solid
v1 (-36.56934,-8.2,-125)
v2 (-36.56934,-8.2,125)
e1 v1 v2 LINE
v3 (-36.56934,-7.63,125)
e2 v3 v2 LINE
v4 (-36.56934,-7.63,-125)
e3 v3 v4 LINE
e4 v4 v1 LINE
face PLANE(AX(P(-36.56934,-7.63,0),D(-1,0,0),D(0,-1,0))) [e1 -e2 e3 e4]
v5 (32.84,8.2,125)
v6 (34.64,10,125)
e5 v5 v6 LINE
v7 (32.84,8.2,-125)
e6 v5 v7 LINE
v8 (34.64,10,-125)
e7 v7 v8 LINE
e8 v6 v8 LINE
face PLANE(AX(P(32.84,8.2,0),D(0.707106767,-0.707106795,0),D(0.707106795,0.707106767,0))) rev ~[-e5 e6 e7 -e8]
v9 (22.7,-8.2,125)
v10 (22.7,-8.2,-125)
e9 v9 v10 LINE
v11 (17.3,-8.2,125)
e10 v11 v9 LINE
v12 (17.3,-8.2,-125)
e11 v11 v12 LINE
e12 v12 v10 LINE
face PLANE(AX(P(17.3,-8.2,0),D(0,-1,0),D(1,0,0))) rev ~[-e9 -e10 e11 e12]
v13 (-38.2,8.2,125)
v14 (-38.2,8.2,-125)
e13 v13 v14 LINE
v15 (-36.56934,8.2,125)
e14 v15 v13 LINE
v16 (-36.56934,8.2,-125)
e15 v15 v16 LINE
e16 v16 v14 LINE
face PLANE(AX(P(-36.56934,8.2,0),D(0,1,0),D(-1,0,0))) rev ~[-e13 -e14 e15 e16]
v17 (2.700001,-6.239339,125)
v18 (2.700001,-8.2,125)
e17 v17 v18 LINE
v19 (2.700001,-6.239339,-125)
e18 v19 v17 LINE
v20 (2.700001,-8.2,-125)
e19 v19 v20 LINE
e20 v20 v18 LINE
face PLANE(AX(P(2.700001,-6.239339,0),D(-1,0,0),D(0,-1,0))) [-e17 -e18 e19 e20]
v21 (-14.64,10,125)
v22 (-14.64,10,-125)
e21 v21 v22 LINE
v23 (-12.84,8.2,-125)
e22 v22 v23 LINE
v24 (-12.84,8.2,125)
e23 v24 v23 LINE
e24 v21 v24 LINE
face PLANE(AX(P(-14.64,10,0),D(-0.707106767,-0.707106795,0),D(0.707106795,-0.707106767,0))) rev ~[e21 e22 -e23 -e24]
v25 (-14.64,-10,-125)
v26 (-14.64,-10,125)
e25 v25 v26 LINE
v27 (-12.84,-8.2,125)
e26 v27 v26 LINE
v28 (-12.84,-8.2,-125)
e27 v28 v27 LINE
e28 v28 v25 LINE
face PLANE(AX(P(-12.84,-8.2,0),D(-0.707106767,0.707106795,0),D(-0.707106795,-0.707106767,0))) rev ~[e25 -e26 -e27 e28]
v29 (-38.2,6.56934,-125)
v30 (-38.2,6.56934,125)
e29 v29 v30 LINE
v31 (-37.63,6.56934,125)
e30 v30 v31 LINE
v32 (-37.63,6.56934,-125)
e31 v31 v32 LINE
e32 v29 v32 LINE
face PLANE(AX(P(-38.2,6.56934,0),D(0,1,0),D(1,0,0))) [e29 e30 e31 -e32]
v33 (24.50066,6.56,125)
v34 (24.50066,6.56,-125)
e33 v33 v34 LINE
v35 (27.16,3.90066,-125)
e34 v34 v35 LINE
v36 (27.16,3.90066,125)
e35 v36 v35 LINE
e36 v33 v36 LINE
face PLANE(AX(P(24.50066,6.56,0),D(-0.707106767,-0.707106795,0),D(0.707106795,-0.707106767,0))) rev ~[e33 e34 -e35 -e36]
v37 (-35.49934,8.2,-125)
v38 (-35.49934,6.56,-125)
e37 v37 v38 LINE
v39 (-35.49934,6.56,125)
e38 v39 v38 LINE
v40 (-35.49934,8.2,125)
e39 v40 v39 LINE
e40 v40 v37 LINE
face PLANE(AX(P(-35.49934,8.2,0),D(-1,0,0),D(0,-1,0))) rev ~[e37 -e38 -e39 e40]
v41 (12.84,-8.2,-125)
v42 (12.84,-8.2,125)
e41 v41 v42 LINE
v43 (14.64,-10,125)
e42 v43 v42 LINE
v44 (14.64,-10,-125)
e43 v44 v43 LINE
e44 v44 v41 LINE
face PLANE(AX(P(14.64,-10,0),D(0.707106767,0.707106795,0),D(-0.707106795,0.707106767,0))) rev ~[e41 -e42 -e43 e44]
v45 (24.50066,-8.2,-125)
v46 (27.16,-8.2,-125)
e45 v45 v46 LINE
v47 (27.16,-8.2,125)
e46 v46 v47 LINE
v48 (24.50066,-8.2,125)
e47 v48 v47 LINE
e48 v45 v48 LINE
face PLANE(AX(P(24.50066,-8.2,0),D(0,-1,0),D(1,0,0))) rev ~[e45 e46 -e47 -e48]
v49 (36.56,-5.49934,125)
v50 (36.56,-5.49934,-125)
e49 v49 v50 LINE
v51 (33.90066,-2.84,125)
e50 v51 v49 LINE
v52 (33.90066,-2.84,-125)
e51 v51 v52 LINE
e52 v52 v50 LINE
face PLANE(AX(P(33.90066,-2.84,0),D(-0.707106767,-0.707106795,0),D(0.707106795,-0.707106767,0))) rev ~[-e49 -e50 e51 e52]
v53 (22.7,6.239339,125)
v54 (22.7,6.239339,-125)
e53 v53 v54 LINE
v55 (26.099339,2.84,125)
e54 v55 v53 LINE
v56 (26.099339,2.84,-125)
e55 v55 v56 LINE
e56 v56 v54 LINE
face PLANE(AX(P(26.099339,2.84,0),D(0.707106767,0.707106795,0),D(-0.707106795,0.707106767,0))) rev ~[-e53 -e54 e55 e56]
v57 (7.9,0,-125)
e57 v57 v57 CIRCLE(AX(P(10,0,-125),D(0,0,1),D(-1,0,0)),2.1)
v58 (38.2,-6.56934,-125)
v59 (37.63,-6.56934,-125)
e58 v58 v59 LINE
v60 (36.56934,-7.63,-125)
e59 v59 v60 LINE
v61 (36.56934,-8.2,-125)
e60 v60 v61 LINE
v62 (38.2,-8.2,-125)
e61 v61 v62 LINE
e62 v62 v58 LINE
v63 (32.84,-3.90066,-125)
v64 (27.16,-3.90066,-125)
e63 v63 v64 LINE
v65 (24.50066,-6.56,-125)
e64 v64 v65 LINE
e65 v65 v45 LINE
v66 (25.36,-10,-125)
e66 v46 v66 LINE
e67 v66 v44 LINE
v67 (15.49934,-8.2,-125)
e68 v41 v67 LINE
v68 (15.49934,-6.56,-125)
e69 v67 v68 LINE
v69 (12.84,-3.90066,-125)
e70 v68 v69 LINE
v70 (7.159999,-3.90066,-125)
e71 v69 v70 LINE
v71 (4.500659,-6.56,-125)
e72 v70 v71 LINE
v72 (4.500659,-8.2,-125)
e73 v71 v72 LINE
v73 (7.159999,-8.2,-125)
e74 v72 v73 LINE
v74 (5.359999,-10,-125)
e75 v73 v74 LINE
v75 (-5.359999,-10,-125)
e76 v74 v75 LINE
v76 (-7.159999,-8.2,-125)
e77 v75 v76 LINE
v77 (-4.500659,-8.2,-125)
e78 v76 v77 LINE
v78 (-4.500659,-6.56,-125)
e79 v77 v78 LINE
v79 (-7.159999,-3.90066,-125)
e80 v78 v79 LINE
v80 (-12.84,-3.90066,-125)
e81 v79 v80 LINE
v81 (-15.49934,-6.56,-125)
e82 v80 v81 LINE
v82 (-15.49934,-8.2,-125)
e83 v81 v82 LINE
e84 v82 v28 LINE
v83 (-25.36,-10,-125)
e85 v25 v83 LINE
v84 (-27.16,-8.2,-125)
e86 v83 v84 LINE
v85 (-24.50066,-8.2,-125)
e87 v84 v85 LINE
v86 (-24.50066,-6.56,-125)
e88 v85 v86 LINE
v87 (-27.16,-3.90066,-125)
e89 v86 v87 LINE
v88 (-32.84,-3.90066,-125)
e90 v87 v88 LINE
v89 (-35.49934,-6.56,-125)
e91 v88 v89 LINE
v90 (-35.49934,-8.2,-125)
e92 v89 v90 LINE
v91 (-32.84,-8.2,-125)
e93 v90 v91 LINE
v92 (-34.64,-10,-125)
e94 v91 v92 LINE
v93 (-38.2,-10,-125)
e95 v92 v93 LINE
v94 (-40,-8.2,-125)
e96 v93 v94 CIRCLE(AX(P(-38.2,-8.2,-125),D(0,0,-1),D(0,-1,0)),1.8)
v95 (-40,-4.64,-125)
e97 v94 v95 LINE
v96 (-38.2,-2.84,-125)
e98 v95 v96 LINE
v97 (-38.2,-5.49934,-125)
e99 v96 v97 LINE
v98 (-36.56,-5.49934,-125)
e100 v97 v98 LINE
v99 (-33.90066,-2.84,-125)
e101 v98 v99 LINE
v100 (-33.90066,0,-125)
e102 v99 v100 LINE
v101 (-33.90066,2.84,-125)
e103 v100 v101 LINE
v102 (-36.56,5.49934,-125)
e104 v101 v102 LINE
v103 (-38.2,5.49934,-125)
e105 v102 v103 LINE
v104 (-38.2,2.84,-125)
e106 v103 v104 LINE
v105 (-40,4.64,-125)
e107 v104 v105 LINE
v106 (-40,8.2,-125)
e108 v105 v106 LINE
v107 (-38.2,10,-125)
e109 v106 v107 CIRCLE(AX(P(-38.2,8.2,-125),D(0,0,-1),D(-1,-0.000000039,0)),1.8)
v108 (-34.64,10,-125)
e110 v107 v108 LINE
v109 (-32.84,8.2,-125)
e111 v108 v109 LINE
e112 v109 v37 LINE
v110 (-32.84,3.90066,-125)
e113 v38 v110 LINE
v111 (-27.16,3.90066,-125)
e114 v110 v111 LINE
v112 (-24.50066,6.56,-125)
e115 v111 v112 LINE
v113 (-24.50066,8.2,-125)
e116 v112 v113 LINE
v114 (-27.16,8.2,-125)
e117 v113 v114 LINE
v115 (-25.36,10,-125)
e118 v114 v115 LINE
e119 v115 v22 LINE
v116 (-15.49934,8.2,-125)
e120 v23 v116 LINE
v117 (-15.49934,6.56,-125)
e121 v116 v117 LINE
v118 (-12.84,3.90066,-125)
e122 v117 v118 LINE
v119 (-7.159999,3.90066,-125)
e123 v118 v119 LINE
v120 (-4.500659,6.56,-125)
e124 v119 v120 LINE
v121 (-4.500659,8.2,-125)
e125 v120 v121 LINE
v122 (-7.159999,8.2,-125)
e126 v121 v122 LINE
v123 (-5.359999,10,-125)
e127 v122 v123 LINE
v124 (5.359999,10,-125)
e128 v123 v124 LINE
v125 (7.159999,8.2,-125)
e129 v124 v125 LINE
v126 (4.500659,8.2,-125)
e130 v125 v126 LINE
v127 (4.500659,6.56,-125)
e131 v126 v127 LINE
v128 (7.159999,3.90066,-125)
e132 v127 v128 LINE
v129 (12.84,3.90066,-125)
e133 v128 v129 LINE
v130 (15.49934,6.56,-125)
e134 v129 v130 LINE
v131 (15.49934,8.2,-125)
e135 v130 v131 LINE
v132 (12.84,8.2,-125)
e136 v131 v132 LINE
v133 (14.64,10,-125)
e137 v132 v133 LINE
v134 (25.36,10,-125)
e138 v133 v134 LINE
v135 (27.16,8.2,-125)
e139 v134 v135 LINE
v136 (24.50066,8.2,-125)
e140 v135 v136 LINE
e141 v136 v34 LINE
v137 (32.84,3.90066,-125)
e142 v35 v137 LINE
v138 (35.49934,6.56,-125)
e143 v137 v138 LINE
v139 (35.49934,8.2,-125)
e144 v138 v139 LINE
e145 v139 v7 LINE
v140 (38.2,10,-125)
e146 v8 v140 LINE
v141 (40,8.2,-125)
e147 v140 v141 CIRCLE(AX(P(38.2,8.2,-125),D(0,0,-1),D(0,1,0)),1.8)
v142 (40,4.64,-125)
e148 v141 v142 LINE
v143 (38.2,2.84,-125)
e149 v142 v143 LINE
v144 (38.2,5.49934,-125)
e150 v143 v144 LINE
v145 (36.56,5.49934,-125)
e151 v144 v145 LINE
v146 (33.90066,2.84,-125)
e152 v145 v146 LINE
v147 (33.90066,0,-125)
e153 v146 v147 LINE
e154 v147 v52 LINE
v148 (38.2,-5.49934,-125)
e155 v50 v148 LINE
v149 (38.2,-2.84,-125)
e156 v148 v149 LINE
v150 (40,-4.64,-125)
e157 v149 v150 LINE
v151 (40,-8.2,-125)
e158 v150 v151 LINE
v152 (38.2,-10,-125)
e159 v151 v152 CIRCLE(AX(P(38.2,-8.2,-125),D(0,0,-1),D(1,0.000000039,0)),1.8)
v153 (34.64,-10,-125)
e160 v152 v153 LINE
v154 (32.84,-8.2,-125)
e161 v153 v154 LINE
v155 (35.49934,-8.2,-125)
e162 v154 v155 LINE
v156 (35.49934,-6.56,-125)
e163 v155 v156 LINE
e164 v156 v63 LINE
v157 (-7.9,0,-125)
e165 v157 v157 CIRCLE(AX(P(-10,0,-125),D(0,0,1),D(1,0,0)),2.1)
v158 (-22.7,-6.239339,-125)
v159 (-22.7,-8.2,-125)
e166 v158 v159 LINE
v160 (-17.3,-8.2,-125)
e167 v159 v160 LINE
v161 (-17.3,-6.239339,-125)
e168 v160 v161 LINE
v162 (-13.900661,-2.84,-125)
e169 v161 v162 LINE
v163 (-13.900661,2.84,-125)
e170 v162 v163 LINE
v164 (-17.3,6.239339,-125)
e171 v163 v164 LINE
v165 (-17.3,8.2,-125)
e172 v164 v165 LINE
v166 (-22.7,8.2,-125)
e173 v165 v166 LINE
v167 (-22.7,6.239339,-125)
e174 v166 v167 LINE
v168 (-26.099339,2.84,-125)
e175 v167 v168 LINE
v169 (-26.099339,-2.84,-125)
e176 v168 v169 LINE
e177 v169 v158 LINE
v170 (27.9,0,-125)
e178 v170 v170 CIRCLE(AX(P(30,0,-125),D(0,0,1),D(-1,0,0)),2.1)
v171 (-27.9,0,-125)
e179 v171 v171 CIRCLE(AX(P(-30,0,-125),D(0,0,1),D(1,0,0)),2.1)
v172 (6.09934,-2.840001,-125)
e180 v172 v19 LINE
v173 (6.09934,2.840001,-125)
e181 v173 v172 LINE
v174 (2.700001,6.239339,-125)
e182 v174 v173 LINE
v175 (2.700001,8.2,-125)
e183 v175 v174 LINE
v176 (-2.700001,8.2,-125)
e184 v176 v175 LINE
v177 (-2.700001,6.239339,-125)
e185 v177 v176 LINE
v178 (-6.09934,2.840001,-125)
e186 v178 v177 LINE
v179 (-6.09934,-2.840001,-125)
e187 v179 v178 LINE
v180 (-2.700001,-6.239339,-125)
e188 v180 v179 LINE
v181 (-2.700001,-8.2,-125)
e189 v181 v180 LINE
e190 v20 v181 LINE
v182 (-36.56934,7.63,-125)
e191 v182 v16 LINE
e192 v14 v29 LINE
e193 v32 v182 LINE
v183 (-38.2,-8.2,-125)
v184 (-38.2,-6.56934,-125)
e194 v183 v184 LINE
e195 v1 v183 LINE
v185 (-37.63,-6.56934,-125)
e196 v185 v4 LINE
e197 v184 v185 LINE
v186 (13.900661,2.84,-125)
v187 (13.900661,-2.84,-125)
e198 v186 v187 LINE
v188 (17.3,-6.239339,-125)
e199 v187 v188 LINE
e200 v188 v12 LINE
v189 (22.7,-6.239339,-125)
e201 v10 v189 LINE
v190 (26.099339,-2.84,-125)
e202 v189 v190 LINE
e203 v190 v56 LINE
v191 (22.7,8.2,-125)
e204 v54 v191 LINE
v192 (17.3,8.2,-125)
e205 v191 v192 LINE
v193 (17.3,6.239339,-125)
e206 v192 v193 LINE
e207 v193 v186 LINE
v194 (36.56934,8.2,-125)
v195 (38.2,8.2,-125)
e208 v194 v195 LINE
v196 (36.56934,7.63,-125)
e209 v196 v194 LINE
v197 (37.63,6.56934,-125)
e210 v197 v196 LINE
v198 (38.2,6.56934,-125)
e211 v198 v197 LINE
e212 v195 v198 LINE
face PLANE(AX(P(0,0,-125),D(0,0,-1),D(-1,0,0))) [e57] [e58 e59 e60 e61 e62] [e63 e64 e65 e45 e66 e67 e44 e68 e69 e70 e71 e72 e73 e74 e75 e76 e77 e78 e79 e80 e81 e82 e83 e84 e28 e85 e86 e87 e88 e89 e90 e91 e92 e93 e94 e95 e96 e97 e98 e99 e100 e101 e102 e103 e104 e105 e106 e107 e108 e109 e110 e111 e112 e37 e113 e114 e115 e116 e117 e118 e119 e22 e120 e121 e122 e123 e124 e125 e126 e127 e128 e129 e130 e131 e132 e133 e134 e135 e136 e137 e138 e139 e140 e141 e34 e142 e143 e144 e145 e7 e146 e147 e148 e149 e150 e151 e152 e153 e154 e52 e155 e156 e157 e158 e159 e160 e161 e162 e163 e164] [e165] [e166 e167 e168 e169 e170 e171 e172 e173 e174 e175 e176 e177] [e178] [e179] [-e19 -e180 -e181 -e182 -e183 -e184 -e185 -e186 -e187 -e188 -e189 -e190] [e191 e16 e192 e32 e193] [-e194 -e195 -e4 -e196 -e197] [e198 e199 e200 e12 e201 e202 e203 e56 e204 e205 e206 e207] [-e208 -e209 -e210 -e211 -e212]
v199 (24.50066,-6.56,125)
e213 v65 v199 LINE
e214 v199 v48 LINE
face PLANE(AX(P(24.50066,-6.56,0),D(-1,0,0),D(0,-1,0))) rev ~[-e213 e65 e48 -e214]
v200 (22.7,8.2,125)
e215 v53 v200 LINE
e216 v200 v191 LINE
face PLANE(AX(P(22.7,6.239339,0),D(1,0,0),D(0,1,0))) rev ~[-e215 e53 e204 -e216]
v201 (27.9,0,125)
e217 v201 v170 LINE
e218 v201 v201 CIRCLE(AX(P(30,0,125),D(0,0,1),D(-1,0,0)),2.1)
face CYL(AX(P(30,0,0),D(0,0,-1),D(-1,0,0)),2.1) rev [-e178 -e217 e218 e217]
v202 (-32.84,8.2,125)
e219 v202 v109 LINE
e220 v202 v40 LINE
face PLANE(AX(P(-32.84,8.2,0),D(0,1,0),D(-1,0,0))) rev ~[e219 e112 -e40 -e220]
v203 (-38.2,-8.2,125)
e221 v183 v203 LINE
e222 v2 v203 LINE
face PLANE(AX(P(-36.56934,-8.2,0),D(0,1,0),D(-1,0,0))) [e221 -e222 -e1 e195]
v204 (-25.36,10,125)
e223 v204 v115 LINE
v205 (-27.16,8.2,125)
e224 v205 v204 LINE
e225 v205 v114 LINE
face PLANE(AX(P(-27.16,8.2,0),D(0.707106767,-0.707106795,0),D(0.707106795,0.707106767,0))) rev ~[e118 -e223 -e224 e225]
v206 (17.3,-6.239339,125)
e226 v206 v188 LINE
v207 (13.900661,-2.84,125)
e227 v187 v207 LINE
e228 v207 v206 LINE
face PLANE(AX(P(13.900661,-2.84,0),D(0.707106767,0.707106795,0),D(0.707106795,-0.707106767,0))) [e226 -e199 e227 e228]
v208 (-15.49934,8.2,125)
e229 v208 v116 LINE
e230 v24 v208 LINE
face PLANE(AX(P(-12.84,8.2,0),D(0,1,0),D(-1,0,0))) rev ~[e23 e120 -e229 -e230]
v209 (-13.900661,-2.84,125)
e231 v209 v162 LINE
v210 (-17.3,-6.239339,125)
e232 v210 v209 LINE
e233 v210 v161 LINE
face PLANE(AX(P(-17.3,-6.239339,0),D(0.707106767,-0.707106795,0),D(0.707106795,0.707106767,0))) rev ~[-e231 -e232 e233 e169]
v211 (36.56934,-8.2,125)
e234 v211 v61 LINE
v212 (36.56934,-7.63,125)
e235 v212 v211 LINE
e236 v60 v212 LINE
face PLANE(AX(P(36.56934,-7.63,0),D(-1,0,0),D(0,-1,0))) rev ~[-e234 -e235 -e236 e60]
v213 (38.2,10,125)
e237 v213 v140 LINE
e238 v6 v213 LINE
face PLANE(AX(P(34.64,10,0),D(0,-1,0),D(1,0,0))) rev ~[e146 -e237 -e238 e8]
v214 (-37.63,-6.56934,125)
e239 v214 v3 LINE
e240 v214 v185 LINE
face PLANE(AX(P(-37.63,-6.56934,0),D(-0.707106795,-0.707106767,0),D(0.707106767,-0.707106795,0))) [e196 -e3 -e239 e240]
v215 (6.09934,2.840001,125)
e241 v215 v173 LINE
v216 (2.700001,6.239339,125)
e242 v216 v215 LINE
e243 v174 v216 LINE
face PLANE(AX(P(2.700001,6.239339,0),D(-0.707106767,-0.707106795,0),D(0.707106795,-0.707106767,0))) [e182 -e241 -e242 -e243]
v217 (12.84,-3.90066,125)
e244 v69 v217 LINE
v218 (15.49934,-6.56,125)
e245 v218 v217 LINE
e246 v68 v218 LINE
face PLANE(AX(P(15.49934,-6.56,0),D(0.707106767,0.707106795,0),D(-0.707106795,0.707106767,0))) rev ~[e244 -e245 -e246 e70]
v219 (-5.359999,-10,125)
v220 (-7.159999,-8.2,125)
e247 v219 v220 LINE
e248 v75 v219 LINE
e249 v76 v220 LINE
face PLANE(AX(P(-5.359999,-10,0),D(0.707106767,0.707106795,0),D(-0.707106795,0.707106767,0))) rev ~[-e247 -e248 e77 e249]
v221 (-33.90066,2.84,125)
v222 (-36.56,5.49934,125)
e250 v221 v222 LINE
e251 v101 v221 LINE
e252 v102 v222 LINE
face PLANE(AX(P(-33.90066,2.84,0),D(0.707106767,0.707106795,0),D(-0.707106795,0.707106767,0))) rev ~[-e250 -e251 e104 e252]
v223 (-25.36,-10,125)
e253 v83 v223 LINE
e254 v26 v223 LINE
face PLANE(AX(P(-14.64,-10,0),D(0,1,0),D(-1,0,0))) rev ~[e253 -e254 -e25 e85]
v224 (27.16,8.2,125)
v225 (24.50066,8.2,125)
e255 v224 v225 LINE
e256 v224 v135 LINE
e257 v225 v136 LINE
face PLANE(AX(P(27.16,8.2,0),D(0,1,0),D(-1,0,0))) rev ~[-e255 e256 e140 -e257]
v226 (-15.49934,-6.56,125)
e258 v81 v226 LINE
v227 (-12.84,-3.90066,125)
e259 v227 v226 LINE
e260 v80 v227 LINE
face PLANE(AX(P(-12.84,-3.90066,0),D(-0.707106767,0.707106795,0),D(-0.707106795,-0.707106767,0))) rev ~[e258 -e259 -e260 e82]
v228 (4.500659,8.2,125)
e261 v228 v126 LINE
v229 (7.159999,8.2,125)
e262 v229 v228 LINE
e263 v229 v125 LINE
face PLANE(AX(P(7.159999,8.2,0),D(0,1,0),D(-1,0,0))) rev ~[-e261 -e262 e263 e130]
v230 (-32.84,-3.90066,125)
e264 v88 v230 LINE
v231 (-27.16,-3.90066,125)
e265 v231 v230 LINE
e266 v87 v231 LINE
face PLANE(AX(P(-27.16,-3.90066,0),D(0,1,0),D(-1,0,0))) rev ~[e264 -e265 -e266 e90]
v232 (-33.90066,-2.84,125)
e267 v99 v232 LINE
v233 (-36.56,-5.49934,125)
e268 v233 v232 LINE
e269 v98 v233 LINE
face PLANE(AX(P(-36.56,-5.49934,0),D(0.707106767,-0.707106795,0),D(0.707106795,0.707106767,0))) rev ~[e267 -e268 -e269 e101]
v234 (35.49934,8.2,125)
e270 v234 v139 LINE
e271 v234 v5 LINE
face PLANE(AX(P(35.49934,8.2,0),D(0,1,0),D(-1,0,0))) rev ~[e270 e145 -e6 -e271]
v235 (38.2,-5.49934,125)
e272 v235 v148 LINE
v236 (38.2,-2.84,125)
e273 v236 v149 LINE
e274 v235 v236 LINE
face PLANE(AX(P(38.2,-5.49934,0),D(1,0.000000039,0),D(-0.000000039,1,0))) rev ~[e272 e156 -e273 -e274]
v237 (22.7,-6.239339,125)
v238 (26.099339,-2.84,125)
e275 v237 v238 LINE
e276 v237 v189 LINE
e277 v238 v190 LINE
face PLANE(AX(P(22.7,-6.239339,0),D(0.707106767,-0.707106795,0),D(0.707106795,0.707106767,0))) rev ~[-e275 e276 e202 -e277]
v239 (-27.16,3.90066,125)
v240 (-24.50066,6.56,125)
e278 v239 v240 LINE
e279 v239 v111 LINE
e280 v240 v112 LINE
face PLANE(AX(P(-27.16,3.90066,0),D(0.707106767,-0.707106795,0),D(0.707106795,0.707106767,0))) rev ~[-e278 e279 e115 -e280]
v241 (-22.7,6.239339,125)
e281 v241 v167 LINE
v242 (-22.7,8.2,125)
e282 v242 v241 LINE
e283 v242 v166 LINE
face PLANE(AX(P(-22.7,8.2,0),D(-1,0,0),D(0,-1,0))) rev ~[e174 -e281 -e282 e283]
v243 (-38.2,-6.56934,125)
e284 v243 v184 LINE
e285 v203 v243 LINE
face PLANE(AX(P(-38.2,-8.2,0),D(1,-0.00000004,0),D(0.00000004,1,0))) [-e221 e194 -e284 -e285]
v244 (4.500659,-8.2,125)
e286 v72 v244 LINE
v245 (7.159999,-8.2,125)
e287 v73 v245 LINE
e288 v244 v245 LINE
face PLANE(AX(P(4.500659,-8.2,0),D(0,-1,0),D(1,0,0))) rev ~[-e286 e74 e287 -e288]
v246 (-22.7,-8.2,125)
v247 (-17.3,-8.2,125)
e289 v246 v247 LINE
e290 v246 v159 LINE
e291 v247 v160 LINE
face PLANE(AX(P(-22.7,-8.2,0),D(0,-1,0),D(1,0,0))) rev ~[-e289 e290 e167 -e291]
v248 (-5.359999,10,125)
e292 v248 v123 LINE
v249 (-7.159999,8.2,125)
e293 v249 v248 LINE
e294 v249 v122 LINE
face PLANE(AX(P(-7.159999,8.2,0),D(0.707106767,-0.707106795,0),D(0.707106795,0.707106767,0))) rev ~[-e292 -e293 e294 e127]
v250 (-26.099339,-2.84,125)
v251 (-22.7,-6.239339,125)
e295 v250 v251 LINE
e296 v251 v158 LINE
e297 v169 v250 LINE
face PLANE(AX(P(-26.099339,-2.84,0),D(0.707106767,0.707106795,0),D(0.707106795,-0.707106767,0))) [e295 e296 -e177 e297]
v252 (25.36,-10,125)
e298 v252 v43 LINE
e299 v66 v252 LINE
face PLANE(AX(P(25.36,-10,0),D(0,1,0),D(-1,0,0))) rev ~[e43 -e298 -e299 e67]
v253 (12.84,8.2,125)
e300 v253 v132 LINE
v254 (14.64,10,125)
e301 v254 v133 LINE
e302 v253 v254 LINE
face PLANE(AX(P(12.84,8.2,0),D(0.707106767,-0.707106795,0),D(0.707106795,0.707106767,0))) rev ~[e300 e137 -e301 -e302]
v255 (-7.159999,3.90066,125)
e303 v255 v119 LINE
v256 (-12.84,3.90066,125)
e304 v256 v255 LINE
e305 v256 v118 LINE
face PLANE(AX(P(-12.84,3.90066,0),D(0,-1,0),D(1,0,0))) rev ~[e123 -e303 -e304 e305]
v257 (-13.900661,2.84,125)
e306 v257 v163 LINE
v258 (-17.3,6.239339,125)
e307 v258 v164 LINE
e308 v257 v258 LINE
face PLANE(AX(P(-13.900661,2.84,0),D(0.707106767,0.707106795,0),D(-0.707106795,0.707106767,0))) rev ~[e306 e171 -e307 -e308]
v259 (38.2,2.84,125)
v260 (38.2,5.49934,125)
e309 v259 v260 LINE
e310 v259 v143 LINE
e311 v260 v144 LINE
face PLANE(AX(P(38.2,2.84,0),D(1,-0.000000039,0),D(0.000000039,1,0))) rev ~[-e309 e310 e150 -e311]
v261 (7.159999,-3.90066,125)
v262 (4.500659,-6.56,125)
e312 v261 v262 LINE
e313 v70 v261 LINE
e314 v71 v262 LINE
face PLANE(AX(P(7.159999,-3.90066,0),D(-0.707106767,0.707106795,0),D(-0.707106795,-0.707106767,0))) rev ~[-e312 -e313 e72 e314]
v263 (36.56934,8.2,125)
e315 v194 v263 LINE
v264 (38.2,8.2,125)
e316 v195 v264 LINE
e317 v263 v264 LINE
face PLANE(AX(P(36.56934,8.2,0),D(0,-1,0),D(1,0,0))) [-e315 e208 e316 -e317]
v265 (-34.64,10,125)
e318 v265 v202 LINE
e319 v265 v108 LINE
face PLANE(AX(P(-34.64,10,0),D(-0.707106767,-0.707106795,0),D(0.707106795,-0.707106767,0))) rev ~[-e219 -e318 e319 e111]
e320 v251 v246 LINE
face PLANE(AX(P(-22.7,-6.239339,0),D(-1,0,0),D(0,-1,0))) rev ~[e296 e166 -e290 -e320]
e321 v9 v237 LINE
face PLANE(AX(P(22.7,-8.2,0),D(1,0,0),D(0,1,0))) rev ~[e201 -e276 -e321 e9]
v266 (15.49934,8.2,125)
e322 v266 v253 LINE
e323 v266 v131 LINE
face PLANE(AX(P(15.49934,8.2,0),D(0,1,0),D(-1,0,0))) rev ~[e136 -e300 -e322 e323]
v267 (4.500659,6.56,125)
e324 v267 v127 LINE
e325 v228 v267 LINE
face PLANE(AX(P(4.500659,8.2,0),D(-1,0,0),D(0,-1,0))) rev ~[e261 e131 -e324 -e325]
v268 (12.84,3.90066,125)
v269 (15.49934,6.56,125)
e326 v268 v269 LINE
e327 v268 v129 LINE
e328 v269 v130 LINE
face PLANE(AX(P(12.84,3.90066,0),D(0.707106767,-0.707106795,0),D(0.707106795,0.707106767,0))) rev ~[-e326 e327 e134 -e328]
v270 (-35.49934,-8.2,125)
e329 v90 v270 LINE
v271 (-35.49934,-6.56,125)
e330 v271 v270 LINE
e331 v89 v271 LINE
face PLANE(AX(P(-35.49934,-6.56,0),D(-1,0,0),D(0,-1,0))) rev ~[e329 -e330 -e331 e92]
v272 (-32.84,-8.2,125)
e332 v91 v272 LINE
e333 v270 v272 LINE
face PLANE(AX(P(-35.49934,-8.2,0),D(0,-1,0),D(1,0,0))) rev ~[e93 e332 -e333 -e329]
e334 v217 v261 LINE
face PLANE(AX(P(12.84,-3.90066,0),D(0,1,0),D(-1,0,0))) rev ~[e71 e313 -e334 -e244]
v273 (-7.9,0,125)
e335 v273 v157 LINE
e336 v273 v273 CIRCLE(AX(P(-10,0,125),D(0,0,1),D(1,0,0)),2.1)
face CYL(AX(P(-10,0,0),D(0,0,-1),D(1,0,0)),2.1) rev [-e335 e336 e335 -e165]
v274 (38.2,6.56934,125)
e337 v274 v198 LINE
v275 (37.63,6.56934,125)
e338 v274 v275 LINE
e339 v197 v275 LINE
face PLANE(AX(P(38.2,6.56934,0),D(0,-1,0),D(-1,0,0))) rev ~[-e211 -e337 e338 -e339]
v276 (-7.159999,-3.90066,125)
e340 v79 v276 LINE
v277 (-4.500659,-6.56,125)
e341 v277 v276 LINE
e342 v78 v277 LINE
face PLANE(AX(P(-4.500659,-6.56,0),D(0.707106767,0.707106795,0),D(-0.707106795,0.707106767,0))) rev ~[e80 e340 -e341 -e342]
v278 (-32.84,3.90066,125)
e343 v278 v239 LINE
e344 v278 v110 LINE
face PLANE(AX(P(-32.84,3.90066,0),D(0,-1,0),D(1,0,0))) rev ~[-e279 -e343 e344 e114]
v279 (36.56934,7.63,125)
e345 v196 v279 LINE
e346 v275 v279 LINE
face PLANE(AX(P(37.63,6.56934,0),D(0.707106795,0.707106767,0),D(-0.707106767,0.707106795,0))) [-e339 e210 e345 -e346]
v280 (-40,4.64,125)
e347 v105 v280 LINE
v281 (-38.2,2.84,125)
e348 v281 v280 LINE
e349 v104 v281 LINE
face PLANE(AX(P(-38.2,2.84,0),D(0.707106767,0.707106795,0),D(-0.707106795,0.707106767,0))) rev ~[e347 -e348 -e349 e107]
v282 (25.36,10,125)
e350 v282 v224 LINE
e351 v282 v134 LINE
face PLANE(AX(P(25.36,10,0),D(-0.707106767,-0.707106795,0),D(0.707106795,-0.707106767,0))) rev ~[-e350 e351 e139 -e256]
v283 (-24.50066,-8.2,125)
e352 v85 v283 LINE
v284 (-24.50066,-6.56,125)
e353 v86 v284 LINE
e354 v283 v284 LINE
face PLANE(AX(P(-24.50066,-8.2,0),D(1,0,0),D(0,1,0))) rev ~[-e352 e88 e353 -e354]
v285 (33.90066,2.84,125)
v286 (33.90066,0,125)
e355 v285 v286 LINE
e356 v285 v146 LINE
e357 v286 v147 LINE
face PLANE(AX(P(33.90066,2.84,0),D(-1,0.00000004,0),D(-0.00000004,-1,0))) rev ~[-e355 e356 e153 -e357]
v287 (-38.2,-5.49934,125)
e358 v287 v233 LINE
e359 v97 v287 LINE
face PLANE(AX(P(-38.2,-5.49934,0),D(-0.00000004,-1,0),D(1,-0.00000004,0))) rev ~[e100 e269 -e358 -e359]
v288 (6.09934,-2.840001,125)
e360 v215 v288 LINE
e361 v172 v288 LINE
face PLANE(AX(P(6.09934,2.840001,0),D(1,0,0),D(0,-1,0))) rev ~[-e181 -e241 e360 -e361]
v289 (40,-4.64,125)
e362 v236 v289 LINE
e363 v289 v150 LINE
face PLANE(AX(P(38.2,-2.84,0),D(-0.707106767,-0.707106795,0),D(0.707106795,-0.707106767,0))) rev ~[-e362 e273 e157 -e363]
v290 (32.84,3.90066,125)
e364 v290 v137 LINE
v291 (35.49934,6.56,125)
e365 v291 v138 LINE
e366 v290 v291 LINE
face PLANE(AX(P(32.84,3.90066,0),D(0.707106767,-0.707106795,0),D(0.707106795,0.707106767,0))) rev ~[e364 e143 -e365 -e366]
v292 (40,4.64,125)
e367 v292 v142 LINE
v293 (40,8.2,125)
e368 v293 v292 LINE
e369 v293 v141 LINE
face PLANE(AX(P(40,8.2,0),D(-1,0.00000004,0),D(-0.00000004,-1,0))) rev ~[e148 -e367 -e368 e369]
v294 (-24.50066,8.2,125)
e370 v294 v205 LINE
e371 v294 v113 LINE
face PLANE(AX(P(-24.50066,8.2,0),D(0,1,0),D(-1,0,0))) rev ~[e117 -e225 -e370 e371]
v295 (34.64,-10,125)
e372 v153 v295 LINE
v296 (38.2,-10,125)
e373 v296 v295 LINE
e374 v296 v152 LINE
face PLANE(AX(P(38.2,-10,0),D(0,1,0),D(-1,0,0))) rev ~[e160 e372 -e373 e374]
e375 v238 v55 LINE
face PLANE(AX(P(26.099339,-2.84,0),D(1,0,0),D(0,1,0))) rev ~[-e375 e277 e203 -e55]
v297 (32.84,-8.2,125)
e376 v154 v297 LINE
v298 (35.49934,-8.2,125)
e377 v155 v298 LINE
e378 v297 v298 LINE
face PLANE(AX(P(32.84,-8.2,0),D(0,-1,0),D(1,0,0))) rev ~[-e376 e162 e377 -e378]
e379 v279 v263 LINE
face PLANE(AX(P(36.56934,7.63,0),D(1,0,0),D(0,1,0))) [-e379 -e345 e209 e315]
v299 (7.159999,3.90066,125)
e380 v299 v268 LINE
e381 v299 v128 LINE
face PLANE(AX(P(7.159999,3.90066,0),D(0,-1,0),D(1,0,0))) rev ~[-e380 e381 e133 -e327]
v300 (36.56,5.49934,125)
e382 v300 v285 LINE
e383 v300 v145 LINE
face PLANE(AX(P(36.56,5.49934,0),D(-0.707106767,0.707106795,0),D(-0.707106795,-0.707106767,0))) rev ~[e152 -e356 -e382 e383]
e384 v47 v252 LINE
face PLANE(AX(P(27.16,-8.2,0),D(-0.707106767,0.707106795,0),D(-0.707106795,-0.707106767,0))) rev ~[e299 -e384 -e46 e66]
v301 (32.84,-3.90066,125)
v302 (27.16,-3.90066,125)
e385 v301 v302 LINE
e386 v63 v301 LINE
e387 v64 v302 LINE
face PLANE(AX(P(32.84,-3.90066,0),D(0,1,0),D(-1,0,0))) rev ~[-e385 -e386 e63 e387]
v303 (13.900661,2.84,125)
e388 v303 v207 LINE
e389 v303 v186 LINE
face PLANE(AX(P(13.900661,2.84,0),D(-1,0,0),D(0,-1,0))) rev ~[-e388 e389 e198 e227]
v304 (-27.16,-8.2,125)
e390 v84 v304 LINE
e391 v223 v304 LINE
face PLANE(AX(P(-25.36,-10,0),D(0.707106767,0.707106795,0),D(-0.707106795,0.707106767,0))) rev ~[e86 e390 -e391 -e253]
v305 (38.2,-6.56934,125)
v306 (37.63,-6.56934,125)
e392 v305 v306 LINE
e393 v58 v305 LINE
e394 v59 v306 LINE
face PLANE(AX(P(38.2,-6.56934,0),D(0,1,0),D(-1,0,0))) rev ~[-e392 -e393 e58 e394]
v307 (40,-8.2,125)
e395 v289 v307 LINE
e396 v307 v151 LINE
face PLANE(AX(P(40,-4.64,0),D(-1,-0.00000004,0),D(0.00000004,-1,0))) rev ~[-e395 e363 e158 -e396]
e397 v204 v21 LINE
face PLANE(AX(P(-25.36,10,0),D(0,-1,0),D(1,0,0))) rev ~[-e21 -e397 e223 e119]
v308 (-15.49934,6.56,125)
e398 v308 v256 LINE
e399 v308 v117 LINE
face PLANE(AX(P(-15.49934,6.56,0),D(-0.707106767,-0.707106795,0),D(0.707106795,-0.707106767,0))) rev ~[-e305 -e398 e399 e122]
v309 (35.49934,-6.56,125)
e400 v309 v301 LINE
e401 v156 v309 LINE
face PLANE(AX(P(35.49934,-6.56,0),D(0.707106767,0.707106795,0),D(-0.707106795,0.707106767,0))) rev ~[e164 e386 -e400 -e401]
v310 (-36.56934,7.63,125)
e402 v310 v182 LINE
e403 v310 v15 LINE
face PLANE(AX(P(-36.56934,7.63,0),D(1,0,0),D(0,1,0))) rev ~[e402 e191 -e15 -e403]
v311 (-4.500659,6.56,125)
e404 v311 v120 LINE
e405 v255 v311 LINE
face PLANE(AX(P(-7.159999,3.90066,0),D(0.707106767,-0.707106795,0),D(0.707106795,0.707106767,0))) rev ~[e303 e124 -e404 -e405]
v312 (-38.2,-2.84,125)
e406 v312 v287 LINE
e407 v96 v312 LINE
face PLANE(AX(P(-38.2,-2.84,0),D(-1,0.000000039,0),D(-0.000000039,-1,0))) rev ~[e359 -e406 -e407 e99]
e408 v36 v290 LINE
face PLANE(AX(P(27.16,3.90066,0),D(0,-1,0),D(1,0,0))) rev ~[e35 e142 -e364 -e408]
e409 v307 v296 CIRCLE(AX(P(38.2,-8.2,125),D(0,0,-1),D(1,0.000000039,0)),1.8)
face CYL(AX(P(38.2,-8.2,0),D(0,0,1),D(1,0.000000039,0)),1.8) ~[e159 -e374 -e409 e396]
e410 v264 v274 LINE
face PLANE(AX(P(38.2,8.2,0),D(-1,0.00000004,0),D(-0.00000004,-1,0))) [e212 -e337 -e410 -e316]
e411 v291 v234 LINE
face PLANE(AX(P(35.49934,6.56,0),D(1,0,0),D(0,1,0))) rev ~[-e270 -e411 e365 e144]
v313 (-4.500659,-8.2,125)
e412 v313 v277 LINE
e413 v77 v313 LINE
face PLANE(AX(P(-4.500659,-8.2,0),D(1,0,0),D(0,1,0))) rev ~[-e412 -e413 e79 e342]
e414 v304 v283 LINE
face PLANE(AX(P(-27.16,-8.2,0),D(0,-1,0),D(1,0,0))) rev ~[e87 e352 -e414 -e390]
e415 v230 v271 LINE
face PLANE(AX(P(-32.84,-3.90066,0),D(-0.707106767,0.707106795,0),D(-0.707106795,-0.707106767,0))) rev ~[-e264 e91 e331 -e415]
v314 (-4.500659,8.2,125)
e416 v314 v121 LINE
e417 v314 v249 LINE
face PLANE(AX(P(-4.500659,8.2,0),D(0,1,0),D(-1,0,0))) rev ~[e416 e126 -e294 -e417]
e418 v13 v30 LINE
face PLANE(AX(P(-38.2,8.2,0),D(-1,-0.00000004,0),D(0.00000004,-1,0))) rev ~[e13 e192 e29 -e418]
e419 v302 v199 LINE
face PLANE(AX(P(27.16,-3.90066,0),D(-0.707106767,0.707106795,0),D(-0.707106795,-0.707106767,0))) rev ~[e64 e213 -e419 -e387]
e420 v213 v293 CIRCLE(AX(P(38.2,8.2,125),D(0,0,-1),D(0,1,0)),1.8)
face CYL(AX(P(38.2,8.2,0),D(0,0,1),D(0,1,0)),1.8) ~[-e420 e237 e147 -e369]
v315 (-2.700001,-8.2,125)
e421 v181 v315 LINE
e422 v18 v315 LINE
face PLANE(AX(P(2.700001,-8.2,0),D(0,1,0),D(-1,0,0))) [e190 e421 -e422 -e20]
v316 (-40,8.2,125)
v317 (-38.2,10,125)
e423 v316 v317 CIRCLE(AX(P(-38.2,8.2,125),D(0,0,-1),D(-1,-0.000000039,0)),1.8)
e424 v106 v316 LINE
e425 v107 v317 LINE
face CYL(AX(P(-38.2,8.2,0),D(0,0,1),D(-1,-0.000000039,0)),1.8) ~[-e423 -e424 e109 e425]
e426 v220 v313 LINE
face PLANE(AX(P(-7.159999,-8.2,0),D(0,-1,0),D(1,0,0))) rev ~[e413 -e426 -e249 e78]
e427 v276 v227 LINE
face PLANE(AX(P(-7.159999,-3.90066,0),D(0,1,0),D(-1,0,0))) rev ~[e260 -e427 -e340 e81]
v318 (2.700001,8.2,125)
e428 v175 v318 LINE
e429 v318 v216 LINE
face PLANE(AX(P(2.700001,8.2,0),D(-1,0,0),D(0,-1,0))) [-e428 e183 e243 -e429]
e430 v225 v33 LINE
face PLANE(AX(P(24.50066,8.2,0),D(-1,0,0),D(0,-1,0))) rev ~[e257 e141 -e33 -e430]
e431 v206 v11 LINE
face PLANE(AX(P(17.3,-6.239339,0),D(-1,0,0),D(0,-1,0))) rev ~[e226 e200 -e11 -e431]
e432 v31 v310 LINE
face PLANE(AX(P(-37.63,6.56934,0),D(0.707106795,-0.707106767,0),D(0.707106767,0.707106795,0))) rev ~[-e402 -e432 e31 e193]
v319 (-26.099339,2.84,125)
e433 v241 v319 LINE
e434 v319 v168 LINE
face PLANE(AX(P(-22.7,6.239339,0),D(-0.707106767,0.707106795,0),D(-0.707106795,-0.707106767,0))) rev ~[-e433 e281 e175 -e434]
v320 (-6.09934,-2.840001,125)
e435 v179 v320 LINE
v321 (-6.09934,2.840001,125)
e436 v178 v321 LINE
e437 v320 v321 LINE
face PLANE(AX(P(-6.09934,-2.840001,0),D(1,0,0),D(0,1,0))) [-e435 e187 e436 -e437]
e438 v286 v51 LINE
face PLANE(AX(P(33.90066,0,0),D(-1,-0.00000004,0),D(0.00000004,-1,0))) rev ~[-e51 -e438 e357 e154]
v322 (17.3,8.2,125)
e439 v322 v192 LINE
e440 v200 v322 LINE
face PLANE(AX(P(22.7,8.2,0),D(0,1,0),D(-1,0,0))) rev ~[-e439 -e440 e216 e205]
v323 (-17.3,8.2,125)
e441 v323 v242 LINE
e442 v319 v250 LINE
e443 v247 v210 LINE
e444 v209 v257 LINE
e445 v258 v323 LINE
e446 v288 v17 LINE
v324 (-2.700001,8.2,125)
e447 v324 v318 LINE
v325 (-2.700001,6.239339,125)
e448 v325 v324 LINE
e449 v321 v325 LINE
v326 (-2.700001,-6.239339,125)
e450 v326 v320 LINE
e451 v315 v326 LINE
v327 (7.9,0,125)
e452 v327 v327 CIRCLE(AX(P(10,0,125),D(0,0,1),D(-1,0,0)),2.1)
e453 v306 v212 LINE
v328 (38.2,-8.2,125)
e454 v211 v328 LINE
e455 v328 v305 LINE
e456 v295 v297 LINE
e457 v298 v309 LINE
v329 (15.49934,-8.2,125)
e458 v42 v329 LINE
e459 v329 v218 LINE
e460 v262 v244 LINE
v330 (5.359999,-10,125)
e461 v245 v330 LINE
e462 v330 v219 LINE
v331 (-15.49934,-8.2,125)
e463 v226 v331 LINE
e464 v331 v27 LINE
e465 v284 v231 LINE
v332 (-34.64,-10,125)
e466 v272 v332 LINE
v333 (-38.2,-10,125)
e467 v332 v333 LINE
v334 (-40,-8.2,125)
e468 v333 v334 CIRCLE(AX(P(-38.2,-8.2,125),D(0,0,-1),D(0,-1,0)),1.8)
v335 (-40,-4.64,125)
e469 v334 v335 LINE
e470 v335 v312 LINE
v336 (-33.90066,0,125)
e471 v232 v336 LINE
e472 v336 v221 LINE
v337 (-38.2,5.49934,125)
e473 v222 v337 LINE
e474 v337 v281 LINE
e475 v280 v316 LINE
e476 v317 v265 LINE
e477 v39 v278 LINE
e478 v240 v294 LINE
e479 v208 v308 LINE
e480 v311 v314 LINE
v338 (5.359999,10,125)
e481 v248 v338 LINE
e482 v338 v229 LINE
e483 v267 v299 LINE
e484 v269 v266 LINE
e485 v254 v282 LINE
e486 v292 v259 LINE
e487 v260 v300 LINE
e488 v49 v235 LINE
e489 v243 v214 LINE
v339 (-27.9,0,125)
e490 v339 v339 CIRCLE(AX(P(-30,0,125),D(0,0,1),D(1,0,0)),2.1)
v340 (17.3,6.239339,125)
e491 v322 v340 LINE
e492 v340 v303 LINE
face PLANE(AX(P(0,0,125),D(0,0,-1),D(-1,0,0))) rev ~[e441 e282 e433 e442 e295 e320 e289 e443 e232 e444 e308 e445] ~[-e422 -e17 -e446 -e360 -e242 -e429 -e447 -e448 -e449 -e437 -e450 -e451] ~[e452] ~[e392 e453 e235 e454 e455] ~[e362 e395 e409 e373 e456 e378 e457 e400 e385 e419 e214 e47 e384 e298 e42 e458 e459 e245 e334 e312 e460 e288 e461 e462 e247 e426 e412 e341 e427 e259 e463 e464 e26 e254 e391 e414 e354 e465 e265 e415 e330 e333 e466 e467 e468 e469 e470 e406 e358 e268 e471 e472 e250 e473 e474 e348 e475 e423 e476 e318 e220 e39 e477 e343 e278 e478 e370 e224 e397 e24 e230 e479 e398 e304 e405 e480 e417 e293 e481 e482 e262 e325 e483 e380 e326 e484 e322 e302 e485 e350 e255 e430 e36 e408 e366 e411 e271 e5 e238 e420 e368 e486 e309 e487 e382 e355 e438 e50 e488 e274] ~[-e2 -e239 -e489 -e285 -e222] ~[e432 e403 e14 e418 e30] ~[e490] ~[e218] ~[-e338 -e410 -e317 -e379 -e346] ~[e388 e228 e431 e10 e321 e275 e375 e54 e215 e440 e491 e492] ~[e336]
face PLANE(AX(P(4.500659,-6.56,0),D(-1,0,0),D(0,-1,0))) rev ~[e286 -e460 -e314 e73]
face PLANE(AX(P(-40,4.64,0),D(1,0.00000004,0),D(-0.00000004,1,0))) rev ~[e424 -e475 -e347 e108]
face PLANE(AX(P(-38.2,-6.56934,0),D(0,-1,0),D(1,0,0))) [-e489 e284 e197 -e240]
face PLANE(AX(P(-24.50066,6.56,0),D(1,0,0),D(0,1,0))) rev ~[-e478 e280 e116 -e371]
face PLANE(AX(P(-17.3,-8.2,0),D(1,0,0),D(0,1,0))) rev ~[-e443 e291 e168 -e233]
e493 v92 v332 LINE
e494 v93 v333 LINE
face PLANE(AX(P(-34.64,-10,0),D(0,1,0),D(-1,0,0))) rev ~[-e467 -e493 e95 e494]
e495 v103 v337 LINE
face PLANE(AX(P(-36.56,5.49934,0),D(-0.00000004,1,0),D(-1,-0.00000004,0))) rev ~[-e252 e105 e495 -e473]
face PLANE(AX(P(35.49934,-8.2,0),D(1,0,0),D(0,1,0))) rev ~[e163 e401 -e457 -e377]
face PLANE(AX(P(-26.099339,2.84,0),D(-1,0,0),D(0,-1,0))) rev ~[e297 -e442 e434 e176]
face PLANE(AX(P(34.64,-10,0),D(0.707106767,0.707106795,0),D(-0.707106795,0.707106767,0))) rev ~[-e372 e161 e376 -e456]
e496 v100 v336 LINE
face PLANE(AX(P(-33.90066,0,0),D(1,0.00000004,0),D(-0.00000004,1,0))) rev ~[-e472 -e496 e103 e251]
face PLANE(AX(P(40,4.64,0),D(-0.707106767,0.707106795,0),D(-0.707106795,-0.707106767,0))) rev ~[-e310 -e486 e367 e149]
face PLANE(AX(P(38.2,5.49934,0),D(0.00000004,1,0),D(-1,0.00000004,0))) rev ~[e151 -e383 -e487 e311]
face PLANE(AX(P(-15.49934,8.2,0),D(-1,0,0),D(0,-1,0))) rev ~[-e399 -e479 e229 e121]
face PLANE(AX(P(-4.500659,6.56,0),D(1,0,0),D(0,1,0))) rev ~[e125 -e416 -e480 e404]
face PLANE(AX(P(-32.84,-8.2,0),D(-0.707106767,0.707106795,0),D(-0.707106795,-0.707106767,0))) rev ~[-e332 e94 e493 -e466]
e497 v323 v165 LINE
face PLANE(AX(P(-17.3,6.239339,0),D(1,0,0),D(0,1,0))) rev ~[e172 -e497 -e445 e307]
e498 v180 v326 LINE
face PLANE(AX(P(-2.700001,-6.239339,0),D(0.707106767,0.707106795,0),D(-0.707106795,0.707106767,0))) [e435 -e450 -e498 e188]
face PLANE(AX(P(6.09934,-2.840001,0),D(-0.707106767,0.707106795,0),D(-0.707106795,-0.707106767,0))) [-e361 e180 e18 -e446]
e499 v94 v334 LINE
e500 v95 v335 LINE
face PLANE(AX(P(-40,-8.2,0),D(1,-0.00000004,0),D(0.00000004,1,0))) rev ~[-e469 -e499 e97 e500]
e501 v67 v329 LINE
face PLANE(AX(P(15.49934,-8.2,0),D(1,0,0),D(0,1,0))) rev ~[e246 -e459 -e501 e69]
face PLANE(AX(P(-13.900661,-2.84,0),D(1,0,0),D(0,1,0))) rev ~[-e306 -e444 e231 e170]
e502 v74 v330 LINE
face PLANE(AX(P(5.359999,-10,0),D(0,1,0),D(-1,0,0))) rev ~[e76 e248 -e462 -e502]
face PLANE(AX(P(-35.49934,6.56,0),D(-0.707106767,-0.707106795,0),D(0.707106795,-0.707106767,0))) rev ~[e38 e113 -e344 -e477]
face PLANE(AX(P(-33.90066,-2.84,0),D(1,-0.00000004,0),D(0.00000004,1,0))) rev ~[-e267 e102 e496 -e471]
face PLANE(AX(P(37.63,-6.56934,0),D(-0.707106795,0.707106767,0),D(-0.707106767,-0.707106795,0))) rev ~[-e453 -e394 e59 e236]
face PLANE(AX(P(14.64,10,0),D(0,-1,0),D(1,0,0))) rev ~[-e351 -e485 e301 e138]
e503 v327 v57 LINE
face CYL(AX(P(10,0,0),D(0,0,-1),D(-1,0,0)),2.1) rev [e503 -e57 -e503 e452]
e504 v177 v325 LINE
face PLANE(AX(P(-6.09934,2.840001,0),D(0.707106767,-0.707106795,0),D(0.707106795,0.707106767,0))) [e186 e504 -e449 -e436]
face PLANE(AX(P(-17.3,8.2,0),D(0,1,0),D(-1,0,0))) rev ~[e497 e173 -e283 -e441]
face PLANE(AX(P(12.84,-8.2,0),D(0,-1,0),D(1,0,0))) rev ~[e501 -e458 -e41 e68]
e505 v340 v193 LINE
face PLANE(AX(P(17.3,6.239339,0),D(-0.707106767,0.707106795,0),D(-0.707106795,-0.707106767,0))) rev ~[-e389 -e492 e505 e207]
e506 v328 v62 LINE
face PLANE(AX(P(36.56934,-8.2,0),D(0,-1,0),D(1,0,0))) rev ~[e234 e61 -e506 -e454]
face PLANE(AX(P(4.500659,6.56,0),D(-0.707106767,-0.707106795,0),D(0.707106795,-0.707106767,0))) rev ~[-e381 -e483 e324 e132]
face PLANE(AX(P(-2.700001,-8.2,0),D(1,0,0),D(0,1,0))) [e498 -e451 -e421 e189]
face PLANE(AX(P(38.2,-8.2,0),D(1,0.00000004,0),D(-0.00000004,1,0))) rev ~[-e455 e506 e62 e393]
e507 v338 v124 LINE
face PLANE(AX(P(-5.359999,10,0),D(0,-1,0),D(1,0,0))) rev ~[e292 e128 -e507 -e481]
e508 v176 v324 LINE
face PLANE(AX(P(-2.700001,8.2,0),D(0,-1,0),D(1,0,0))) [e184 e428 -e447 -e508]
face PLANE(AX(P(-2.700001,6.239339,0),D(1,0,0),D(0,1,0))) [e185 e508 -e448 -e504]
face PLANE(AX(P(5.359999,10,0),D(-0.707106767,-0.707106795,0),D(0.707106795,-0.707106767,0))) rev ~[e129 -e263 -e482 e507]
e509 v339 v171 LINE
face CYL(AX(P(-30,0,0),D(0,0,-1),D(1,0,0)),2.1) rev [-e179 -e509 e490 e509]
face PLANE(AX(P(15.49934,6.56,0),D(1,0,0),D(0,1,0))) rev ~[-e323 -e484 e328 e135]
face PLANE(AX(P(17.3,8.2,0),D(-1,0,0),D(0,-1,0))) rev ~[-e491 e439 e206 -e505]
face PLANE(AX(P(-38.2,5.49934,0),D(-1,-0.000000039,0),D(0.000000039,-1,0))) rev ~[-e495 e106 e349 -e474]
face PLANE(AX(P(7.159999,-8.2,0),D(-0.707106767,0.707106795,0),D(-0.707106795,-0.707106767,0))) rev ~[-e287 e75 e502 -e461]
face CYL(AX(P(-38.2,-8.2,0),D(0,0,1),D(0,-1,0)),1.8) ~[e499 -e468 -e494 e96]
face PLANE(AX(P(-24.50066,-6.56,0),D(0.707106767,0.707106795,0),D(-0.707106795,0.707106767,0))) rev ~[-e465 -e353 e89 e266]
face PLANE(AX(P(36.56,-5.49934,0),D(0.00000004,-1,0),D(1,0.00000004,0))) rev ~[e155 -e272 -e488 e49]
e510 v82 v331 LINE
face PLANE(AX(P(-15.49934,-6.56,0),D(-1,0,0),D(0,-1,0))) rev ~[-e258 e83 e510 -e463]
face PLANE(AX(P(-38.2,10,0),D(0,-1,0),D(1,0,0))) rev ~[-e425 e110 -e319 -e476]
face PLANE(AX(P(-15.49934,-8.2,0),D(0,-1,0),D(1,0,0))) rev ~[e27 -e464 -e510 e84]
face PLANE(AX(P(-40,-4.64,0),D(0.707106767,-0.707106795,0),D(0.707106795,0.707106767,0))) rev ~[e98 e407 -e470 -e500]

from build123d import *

# Parameters (mm, degrees)
ESQUISSE1_R        = 2.1
BOSS_EXTRU_1_DEPTH = 125


with BuildPart() as part:
    # Esquisse1 → Boss.-Extru.1 (new, symmetric)
    with BuildSketch(Plane.XY):
        with BuildLine():
            Line((-38.199999929, 10), (-34.639999675, 10))
            Line((-34.639999675, 10), (-32.839999603, 8.2))
            Line((-32.839999603, 8.2), (-35.499339671, 8.2))
            Line((-35.499339671, 8.2), (-35.499339671, 6.56))
            Line((-35.499339671, 6.56), (-32.839999603, 3.900660038))
            Line((-32.839999603, 3.900660038), (-27.159999603, 3.900660038))
            Line((-27.159999603, 3.900660038), (-24.500659536, 6.56))
            Line((-24.500659536, 6.56), (-24.500659536, 8.2))
            Line((-24.500659536, 8.2), (-27.159999603, 8.2))
            Line((-27.159999603, 8.2), (-25.359999532, 10))
            Line((-25.359999532, 10), (-14.640000468, 10))
            Line((-14.640000468, 10), (-12.840000397, 8.2))
            Line((-12.840000397, 8.2), (-15.499340464, 8.2))
            Line((-15.499340464, 8.2), (-15.499340464, 6.56))
            Line((-15.499340464, 6.56), (-12.840000397, 3.900660038))
            Line((-12.840000397, 3.900660038), (-7.159998809, 3.900660038))
            Line((-7.159998809, 3.900660038), (-4.500658742, 6.56))
            Line((-4.500658742, 6.56), (-4.500658742, 8.2))
            Line((-4.500658742, 8.2), (-7.159998809, 8.2))
            Line((-7.159998809, 8.2), (-5.359998738, 10))
            Line((-5.359998738, 10), (5.359998738, 10))
            Line((5.359998738, 10), (7.159998809, 8.2))
            Line((7.159998809, 8.2), (4.500658742, 8.2))
            Line((4.500658742, 8.2), (4.500658742, 6.56))
            Line((4.500658742, 6.56), (7.159998809, 3.900660038))
            Line((7.159998809, 3.900660038), (12.840000397, 3.900660038))
            Line((12.840000397, 3.900660038), (15.499340464, 6.56))
            Line((15.499340464, 6.56), (15.499340464, 8.2))
            Line((15.499340464, 8.2), (12.840000397, 8.2))
            Line((12.840000397, 8.2), (14.640000468, 10))
            Line((14.640000468, 10), (25.359999532, 10))
            Line((25.359999532, 10), (27.159999603, 8.2))
            Line((27.159999603, 8.2), (24.500659536, 8.2))
            Line((24.500659536, 8.2), (24.500659536, 6.56))
            Line((24.500659536, 6.56), (27.159999603, 3.900660038))
            Line((27.159999603, 3.900660038), (32.839999603, 3.900660038))
            Line((32.839999603, 3.900660038), (35.499339671, 6.56))
            Line((35.499339671, 6.56), (35.499339671, 8.2))
            Line((35.499339671, 8.2), (32.839999603, 8.2))
            Line((32.839999603, 8.2), (34.639999675, 10))
            Line((34.639999675, 10), (38.199999929, 10))
            ThreePointArc((38.199999929, 10), (39.47279216, 9.472792181), (39.999999929, 8.199999929))
            Line((39.999999929, 8.199999929), (39.999999787, 4.639999675))
            Line((39.999999787, 4.639999675), (38.199999716, 2.839999675))
            Line((38.199999716, 2.839999675), (38.199999821, 5.499339742))
            Line((38.199999821, 5.499339742), (36.559999821, 5.499339807))
            Line((36.559999821, 5.499339807), (33.900659754, 2.839999845))
            Line((33.900659754, 2.839999845), (33.900659641, 0))
            Line((33.900659641, 0), (33.900659754, -2.839999845))
            Line((33.900659754, -2.839999845), (36.559999821, -5.499339807))
            Line((36.559999821, -5.499339807), (38.199999821, -5.499339742))
            Line((38.199999821, -5.499339742), (38.199999716, -2.839999675))
            Line((38.199999716, -2.839999675), (39.999999787, -4.639999675))
            Line((39.999999787, -4.639999675), (39.999999929, -8.199999929))
            ThreePointArc((39.999999929, -8.199999929), (39.47279216, -9.472792181), (38.199999929, -10))
            Line((38.199999929, -10), (34.639999675, -10))
            Line((34.639999675, -10), (32.839999603, -8.2))
            Line((32.839999603, -8.2), (35.499339671, -8.2))
            Line((35.499339671, -8.2), (35.499339671, -6.56))
            Line((35.499339671, -6.56), (32.839999603, -3.900660038))
            Line((32.839999603, -3.900660038), (27.159999603, -3.900660038))
            Line((27.159999603, -3.900660038), (24.500659536, -6.56))
            Line((24.500659536, -6.56), (24.500659536, -8.2))
            Line((24.500659536, -8.2), (27.159999603, -8.2))
            Line((27.159999603, -8.2), (25.359999532, -10))
            Line((25.359999532, -10), (14.640000468, -10))
            Line((14.640000468, -10), (12.840000397, -8.2))
            Line((12.840000397, -8.2), (15.499340464, -8.2))
            Line((15.499340464, -8.2), (15.499340464, -6.56))
            Line((15.499340464, -6.56), (12.840000397, -3.900660038))
            Line((12.840000397, -3.900660038), (7.159998809, -3.900660038))
            Line((7.159998809, -3.900660038), (4.500658742, -6.56))
            Line((4.500658742, -6.56), (4.500658742, -8.2))
            Line((4.500658742, -8.2), (7.159998809, -8.2))
            Line((7.159998809, -8.2), (5.359998738, -10))
            Line((5.359998738, -10), (-5.359998738, -10))
            Line((-5.359998738, -10), (-7.159998809, -8.2))
            Line((-7.159998809, -8.2), (-4.500658742, -8.2))
            Line((-4.500658742, -8.2), (-4.500658742, -6.56))
            Line((-4.500658742, -6.56), (-7.159998809, -3.900660038))
            Line((-7.159998809, -3.900660038), (-12.840000397, -3.900660038))
            Line((-12.840000397, -3.900660038), (-15.499340464, -6.56))
            Line((-15.499340464, -6.56), (-15.499340464, -8.2))
            Line((-15.499340464, -8.2), (-12.840000397, -8.2))
            Line((-12.840000397, -8.2), (-14.640000468, -10))
            Line((-14.640000468, -10), (-25.359999532, -10))
            Line((-25.359999532, -10), (-27.159999603, -8.2))
            Line((-27.159999603, -8.2), (-24.500659536, -8.2))
            Line((-24.500659536, -8.2), (-24.500659536, -6.56))
            Line((-24.500659536, -6.56), (-27.159999603, -3.900660038))
            Line((-27.159999603, -3.900660038), (-32.839999603, -3.900660038))
            Line((-32.839999603, -3.900660038), (-35.499339671, -6.56))
            Line((-35.499339671, -6.56), (-35.499339671, -8.2))
            Line((-35.499339671, -8.2), (-32.839999603, -8.2))
            Line((-32.839999603, -8.2), (-34.639999675, -10))
            Line((-34.639999675, -10), (-38.199999929, -10))
            ThreePointArc((-38.199999929, -10), (-39.47279216, -9.472792181), (-39.999999929, -8.199999929))
            Line((-39.999999929, -8.199999929), (-39.999999787, -4.639999675))
            Line((-39.999999787, -4.639999675), (-38.199999716, -2.839999675))
            Line((-38.199999716, -2.839999675), (-38.199999821, -5.499339742))
            Line((-38.199999821, -5.499339742), (-36.559999821, -5.499339807))
            Line((-36.559999821, -5.499339807), (-33.900659754, -2.839999845))
            Line((-33.900659754, -2.839999845), (-33.900659641, 0))
            Line((-33.900659641, 0), (-33.900659754, 2.839999845))
            Line((-33.900659754, 2.839999845), (-36.559999821, 5.499339807))
            Line((-36.559999821, 5.499339807), (-38.199999821, 5.499339742))
            Line((-38.199999821, 5.499339742), (-38.199999716, 2.839999675))
            Line((-38.199999716, 2.839999675), (-39.999999787, 4.639999675))
            Line((-39.999999787, 4.639999675), (-39.999999929, 8.199999929))
            ThreePointArc((-39.999999929, 8.199999929), (-39.47279216, 9.472792181), (-38.199999929, 10))
        make_face()
        with Locations((-29.999999603, 0)):
            Circle(ESQUISSE1_R, mode=Mode.SUBTRACT)
        with Locations((-9.999999603, 0)):
            Circle(ESQUISSE1_R, mode=Mode.SUBTRACT)
        with Locations(Location((29.999999603, 0, 0), (0, 0, 180))):
            Circle(ESQUISSE1_R, mode=Mode.SUBTRACT)
        with Locations(Location((9.999999603, 0, 0), (0, 0, 180))):
            Circle(ESQUISSE1_R, mode=Mode.SUBTRACT)
        Polygon((-38.199999929, 8.2), (-38.199999864, 6.569339742), (-37.629999799, 6.569339742), (-36.569339648, 7.629999935), (-36.569339648, 8.2), align=None, mode=Mode.SUBTRACT)
        Polygon((-17.3, 6.239339079), (-17.3, 8.2), (-22.7, 8.2), (-22.7, 6.239339079), (-26.099339368, 2.839999845), (-26.099339368, -2.839999845), (-22.7, -6.239339079), (-22.7, -8.2), (-17.3, -8.2), (-17.3, -6.239339079), (-13.900660632, -2.839999845), (-13.900660632, 2.839999845), align=None, mode=Mode.SUBTRACT)
        Polygon((-6.099339678, -2.840000949), (-6.099339678, 2.840000949), (-2.700001413, 6.239339079), (-2.700001413, 8.2), (2.700001413, 8.2), (2.700001413, 6.239339079), (6.099339678, 2.840000949), (6.099339678, -2.840000949), (2.700001413, -6.239339079), (2.700001413, -8.2), (-2.700001413, -8.2), (-2.700001413, -6.239339079), align=None, mode=Mode.SUBTRACT)
        Polygon((-36.569339648, -7.629999935), (-36.569339648, -8.2), (-38.199999929, -8.2), (-38.199999864, -6.569339742), (-37.629999799, -6.569339742), align=None, mode=Mode.SUBTRACT)
        Polygon((36.569339648, 8.2), (38.199999929, 8.2), (38.199999864, 6.569339742), (37.629999799, 6.569339742), (36.569339648, 7.629999935), align=None, mode=Mode.SUBTRACT)
        Polygon((36.569339648, -8.2), (38.199999929, -8.2), (38.199999864, -6.569339742), (37.629999799, -6.569339742), (36.569339648, -7.629999935), align=None, mode=Mode.SUBTRACT)
        Polygon((13.900660632, -2.839999845), (17.3, -6.239339079), (17.3, -8.2), (22.7, -8.2), (22.7, -6.239339079), (26.099339368, -2.839999845), (26.099339368, 2.839999845), (22.7, 6.239339079), (22.7, 8.2), (17.3, 8.2), (17.3, 6.239339079), (13.900660632, 2.839999845), align=None, mode=Mode.SUBTRACT)
    extrude(amount=BOSS_EXTRU_1_DEPTH, both=True)


solid = part.part
